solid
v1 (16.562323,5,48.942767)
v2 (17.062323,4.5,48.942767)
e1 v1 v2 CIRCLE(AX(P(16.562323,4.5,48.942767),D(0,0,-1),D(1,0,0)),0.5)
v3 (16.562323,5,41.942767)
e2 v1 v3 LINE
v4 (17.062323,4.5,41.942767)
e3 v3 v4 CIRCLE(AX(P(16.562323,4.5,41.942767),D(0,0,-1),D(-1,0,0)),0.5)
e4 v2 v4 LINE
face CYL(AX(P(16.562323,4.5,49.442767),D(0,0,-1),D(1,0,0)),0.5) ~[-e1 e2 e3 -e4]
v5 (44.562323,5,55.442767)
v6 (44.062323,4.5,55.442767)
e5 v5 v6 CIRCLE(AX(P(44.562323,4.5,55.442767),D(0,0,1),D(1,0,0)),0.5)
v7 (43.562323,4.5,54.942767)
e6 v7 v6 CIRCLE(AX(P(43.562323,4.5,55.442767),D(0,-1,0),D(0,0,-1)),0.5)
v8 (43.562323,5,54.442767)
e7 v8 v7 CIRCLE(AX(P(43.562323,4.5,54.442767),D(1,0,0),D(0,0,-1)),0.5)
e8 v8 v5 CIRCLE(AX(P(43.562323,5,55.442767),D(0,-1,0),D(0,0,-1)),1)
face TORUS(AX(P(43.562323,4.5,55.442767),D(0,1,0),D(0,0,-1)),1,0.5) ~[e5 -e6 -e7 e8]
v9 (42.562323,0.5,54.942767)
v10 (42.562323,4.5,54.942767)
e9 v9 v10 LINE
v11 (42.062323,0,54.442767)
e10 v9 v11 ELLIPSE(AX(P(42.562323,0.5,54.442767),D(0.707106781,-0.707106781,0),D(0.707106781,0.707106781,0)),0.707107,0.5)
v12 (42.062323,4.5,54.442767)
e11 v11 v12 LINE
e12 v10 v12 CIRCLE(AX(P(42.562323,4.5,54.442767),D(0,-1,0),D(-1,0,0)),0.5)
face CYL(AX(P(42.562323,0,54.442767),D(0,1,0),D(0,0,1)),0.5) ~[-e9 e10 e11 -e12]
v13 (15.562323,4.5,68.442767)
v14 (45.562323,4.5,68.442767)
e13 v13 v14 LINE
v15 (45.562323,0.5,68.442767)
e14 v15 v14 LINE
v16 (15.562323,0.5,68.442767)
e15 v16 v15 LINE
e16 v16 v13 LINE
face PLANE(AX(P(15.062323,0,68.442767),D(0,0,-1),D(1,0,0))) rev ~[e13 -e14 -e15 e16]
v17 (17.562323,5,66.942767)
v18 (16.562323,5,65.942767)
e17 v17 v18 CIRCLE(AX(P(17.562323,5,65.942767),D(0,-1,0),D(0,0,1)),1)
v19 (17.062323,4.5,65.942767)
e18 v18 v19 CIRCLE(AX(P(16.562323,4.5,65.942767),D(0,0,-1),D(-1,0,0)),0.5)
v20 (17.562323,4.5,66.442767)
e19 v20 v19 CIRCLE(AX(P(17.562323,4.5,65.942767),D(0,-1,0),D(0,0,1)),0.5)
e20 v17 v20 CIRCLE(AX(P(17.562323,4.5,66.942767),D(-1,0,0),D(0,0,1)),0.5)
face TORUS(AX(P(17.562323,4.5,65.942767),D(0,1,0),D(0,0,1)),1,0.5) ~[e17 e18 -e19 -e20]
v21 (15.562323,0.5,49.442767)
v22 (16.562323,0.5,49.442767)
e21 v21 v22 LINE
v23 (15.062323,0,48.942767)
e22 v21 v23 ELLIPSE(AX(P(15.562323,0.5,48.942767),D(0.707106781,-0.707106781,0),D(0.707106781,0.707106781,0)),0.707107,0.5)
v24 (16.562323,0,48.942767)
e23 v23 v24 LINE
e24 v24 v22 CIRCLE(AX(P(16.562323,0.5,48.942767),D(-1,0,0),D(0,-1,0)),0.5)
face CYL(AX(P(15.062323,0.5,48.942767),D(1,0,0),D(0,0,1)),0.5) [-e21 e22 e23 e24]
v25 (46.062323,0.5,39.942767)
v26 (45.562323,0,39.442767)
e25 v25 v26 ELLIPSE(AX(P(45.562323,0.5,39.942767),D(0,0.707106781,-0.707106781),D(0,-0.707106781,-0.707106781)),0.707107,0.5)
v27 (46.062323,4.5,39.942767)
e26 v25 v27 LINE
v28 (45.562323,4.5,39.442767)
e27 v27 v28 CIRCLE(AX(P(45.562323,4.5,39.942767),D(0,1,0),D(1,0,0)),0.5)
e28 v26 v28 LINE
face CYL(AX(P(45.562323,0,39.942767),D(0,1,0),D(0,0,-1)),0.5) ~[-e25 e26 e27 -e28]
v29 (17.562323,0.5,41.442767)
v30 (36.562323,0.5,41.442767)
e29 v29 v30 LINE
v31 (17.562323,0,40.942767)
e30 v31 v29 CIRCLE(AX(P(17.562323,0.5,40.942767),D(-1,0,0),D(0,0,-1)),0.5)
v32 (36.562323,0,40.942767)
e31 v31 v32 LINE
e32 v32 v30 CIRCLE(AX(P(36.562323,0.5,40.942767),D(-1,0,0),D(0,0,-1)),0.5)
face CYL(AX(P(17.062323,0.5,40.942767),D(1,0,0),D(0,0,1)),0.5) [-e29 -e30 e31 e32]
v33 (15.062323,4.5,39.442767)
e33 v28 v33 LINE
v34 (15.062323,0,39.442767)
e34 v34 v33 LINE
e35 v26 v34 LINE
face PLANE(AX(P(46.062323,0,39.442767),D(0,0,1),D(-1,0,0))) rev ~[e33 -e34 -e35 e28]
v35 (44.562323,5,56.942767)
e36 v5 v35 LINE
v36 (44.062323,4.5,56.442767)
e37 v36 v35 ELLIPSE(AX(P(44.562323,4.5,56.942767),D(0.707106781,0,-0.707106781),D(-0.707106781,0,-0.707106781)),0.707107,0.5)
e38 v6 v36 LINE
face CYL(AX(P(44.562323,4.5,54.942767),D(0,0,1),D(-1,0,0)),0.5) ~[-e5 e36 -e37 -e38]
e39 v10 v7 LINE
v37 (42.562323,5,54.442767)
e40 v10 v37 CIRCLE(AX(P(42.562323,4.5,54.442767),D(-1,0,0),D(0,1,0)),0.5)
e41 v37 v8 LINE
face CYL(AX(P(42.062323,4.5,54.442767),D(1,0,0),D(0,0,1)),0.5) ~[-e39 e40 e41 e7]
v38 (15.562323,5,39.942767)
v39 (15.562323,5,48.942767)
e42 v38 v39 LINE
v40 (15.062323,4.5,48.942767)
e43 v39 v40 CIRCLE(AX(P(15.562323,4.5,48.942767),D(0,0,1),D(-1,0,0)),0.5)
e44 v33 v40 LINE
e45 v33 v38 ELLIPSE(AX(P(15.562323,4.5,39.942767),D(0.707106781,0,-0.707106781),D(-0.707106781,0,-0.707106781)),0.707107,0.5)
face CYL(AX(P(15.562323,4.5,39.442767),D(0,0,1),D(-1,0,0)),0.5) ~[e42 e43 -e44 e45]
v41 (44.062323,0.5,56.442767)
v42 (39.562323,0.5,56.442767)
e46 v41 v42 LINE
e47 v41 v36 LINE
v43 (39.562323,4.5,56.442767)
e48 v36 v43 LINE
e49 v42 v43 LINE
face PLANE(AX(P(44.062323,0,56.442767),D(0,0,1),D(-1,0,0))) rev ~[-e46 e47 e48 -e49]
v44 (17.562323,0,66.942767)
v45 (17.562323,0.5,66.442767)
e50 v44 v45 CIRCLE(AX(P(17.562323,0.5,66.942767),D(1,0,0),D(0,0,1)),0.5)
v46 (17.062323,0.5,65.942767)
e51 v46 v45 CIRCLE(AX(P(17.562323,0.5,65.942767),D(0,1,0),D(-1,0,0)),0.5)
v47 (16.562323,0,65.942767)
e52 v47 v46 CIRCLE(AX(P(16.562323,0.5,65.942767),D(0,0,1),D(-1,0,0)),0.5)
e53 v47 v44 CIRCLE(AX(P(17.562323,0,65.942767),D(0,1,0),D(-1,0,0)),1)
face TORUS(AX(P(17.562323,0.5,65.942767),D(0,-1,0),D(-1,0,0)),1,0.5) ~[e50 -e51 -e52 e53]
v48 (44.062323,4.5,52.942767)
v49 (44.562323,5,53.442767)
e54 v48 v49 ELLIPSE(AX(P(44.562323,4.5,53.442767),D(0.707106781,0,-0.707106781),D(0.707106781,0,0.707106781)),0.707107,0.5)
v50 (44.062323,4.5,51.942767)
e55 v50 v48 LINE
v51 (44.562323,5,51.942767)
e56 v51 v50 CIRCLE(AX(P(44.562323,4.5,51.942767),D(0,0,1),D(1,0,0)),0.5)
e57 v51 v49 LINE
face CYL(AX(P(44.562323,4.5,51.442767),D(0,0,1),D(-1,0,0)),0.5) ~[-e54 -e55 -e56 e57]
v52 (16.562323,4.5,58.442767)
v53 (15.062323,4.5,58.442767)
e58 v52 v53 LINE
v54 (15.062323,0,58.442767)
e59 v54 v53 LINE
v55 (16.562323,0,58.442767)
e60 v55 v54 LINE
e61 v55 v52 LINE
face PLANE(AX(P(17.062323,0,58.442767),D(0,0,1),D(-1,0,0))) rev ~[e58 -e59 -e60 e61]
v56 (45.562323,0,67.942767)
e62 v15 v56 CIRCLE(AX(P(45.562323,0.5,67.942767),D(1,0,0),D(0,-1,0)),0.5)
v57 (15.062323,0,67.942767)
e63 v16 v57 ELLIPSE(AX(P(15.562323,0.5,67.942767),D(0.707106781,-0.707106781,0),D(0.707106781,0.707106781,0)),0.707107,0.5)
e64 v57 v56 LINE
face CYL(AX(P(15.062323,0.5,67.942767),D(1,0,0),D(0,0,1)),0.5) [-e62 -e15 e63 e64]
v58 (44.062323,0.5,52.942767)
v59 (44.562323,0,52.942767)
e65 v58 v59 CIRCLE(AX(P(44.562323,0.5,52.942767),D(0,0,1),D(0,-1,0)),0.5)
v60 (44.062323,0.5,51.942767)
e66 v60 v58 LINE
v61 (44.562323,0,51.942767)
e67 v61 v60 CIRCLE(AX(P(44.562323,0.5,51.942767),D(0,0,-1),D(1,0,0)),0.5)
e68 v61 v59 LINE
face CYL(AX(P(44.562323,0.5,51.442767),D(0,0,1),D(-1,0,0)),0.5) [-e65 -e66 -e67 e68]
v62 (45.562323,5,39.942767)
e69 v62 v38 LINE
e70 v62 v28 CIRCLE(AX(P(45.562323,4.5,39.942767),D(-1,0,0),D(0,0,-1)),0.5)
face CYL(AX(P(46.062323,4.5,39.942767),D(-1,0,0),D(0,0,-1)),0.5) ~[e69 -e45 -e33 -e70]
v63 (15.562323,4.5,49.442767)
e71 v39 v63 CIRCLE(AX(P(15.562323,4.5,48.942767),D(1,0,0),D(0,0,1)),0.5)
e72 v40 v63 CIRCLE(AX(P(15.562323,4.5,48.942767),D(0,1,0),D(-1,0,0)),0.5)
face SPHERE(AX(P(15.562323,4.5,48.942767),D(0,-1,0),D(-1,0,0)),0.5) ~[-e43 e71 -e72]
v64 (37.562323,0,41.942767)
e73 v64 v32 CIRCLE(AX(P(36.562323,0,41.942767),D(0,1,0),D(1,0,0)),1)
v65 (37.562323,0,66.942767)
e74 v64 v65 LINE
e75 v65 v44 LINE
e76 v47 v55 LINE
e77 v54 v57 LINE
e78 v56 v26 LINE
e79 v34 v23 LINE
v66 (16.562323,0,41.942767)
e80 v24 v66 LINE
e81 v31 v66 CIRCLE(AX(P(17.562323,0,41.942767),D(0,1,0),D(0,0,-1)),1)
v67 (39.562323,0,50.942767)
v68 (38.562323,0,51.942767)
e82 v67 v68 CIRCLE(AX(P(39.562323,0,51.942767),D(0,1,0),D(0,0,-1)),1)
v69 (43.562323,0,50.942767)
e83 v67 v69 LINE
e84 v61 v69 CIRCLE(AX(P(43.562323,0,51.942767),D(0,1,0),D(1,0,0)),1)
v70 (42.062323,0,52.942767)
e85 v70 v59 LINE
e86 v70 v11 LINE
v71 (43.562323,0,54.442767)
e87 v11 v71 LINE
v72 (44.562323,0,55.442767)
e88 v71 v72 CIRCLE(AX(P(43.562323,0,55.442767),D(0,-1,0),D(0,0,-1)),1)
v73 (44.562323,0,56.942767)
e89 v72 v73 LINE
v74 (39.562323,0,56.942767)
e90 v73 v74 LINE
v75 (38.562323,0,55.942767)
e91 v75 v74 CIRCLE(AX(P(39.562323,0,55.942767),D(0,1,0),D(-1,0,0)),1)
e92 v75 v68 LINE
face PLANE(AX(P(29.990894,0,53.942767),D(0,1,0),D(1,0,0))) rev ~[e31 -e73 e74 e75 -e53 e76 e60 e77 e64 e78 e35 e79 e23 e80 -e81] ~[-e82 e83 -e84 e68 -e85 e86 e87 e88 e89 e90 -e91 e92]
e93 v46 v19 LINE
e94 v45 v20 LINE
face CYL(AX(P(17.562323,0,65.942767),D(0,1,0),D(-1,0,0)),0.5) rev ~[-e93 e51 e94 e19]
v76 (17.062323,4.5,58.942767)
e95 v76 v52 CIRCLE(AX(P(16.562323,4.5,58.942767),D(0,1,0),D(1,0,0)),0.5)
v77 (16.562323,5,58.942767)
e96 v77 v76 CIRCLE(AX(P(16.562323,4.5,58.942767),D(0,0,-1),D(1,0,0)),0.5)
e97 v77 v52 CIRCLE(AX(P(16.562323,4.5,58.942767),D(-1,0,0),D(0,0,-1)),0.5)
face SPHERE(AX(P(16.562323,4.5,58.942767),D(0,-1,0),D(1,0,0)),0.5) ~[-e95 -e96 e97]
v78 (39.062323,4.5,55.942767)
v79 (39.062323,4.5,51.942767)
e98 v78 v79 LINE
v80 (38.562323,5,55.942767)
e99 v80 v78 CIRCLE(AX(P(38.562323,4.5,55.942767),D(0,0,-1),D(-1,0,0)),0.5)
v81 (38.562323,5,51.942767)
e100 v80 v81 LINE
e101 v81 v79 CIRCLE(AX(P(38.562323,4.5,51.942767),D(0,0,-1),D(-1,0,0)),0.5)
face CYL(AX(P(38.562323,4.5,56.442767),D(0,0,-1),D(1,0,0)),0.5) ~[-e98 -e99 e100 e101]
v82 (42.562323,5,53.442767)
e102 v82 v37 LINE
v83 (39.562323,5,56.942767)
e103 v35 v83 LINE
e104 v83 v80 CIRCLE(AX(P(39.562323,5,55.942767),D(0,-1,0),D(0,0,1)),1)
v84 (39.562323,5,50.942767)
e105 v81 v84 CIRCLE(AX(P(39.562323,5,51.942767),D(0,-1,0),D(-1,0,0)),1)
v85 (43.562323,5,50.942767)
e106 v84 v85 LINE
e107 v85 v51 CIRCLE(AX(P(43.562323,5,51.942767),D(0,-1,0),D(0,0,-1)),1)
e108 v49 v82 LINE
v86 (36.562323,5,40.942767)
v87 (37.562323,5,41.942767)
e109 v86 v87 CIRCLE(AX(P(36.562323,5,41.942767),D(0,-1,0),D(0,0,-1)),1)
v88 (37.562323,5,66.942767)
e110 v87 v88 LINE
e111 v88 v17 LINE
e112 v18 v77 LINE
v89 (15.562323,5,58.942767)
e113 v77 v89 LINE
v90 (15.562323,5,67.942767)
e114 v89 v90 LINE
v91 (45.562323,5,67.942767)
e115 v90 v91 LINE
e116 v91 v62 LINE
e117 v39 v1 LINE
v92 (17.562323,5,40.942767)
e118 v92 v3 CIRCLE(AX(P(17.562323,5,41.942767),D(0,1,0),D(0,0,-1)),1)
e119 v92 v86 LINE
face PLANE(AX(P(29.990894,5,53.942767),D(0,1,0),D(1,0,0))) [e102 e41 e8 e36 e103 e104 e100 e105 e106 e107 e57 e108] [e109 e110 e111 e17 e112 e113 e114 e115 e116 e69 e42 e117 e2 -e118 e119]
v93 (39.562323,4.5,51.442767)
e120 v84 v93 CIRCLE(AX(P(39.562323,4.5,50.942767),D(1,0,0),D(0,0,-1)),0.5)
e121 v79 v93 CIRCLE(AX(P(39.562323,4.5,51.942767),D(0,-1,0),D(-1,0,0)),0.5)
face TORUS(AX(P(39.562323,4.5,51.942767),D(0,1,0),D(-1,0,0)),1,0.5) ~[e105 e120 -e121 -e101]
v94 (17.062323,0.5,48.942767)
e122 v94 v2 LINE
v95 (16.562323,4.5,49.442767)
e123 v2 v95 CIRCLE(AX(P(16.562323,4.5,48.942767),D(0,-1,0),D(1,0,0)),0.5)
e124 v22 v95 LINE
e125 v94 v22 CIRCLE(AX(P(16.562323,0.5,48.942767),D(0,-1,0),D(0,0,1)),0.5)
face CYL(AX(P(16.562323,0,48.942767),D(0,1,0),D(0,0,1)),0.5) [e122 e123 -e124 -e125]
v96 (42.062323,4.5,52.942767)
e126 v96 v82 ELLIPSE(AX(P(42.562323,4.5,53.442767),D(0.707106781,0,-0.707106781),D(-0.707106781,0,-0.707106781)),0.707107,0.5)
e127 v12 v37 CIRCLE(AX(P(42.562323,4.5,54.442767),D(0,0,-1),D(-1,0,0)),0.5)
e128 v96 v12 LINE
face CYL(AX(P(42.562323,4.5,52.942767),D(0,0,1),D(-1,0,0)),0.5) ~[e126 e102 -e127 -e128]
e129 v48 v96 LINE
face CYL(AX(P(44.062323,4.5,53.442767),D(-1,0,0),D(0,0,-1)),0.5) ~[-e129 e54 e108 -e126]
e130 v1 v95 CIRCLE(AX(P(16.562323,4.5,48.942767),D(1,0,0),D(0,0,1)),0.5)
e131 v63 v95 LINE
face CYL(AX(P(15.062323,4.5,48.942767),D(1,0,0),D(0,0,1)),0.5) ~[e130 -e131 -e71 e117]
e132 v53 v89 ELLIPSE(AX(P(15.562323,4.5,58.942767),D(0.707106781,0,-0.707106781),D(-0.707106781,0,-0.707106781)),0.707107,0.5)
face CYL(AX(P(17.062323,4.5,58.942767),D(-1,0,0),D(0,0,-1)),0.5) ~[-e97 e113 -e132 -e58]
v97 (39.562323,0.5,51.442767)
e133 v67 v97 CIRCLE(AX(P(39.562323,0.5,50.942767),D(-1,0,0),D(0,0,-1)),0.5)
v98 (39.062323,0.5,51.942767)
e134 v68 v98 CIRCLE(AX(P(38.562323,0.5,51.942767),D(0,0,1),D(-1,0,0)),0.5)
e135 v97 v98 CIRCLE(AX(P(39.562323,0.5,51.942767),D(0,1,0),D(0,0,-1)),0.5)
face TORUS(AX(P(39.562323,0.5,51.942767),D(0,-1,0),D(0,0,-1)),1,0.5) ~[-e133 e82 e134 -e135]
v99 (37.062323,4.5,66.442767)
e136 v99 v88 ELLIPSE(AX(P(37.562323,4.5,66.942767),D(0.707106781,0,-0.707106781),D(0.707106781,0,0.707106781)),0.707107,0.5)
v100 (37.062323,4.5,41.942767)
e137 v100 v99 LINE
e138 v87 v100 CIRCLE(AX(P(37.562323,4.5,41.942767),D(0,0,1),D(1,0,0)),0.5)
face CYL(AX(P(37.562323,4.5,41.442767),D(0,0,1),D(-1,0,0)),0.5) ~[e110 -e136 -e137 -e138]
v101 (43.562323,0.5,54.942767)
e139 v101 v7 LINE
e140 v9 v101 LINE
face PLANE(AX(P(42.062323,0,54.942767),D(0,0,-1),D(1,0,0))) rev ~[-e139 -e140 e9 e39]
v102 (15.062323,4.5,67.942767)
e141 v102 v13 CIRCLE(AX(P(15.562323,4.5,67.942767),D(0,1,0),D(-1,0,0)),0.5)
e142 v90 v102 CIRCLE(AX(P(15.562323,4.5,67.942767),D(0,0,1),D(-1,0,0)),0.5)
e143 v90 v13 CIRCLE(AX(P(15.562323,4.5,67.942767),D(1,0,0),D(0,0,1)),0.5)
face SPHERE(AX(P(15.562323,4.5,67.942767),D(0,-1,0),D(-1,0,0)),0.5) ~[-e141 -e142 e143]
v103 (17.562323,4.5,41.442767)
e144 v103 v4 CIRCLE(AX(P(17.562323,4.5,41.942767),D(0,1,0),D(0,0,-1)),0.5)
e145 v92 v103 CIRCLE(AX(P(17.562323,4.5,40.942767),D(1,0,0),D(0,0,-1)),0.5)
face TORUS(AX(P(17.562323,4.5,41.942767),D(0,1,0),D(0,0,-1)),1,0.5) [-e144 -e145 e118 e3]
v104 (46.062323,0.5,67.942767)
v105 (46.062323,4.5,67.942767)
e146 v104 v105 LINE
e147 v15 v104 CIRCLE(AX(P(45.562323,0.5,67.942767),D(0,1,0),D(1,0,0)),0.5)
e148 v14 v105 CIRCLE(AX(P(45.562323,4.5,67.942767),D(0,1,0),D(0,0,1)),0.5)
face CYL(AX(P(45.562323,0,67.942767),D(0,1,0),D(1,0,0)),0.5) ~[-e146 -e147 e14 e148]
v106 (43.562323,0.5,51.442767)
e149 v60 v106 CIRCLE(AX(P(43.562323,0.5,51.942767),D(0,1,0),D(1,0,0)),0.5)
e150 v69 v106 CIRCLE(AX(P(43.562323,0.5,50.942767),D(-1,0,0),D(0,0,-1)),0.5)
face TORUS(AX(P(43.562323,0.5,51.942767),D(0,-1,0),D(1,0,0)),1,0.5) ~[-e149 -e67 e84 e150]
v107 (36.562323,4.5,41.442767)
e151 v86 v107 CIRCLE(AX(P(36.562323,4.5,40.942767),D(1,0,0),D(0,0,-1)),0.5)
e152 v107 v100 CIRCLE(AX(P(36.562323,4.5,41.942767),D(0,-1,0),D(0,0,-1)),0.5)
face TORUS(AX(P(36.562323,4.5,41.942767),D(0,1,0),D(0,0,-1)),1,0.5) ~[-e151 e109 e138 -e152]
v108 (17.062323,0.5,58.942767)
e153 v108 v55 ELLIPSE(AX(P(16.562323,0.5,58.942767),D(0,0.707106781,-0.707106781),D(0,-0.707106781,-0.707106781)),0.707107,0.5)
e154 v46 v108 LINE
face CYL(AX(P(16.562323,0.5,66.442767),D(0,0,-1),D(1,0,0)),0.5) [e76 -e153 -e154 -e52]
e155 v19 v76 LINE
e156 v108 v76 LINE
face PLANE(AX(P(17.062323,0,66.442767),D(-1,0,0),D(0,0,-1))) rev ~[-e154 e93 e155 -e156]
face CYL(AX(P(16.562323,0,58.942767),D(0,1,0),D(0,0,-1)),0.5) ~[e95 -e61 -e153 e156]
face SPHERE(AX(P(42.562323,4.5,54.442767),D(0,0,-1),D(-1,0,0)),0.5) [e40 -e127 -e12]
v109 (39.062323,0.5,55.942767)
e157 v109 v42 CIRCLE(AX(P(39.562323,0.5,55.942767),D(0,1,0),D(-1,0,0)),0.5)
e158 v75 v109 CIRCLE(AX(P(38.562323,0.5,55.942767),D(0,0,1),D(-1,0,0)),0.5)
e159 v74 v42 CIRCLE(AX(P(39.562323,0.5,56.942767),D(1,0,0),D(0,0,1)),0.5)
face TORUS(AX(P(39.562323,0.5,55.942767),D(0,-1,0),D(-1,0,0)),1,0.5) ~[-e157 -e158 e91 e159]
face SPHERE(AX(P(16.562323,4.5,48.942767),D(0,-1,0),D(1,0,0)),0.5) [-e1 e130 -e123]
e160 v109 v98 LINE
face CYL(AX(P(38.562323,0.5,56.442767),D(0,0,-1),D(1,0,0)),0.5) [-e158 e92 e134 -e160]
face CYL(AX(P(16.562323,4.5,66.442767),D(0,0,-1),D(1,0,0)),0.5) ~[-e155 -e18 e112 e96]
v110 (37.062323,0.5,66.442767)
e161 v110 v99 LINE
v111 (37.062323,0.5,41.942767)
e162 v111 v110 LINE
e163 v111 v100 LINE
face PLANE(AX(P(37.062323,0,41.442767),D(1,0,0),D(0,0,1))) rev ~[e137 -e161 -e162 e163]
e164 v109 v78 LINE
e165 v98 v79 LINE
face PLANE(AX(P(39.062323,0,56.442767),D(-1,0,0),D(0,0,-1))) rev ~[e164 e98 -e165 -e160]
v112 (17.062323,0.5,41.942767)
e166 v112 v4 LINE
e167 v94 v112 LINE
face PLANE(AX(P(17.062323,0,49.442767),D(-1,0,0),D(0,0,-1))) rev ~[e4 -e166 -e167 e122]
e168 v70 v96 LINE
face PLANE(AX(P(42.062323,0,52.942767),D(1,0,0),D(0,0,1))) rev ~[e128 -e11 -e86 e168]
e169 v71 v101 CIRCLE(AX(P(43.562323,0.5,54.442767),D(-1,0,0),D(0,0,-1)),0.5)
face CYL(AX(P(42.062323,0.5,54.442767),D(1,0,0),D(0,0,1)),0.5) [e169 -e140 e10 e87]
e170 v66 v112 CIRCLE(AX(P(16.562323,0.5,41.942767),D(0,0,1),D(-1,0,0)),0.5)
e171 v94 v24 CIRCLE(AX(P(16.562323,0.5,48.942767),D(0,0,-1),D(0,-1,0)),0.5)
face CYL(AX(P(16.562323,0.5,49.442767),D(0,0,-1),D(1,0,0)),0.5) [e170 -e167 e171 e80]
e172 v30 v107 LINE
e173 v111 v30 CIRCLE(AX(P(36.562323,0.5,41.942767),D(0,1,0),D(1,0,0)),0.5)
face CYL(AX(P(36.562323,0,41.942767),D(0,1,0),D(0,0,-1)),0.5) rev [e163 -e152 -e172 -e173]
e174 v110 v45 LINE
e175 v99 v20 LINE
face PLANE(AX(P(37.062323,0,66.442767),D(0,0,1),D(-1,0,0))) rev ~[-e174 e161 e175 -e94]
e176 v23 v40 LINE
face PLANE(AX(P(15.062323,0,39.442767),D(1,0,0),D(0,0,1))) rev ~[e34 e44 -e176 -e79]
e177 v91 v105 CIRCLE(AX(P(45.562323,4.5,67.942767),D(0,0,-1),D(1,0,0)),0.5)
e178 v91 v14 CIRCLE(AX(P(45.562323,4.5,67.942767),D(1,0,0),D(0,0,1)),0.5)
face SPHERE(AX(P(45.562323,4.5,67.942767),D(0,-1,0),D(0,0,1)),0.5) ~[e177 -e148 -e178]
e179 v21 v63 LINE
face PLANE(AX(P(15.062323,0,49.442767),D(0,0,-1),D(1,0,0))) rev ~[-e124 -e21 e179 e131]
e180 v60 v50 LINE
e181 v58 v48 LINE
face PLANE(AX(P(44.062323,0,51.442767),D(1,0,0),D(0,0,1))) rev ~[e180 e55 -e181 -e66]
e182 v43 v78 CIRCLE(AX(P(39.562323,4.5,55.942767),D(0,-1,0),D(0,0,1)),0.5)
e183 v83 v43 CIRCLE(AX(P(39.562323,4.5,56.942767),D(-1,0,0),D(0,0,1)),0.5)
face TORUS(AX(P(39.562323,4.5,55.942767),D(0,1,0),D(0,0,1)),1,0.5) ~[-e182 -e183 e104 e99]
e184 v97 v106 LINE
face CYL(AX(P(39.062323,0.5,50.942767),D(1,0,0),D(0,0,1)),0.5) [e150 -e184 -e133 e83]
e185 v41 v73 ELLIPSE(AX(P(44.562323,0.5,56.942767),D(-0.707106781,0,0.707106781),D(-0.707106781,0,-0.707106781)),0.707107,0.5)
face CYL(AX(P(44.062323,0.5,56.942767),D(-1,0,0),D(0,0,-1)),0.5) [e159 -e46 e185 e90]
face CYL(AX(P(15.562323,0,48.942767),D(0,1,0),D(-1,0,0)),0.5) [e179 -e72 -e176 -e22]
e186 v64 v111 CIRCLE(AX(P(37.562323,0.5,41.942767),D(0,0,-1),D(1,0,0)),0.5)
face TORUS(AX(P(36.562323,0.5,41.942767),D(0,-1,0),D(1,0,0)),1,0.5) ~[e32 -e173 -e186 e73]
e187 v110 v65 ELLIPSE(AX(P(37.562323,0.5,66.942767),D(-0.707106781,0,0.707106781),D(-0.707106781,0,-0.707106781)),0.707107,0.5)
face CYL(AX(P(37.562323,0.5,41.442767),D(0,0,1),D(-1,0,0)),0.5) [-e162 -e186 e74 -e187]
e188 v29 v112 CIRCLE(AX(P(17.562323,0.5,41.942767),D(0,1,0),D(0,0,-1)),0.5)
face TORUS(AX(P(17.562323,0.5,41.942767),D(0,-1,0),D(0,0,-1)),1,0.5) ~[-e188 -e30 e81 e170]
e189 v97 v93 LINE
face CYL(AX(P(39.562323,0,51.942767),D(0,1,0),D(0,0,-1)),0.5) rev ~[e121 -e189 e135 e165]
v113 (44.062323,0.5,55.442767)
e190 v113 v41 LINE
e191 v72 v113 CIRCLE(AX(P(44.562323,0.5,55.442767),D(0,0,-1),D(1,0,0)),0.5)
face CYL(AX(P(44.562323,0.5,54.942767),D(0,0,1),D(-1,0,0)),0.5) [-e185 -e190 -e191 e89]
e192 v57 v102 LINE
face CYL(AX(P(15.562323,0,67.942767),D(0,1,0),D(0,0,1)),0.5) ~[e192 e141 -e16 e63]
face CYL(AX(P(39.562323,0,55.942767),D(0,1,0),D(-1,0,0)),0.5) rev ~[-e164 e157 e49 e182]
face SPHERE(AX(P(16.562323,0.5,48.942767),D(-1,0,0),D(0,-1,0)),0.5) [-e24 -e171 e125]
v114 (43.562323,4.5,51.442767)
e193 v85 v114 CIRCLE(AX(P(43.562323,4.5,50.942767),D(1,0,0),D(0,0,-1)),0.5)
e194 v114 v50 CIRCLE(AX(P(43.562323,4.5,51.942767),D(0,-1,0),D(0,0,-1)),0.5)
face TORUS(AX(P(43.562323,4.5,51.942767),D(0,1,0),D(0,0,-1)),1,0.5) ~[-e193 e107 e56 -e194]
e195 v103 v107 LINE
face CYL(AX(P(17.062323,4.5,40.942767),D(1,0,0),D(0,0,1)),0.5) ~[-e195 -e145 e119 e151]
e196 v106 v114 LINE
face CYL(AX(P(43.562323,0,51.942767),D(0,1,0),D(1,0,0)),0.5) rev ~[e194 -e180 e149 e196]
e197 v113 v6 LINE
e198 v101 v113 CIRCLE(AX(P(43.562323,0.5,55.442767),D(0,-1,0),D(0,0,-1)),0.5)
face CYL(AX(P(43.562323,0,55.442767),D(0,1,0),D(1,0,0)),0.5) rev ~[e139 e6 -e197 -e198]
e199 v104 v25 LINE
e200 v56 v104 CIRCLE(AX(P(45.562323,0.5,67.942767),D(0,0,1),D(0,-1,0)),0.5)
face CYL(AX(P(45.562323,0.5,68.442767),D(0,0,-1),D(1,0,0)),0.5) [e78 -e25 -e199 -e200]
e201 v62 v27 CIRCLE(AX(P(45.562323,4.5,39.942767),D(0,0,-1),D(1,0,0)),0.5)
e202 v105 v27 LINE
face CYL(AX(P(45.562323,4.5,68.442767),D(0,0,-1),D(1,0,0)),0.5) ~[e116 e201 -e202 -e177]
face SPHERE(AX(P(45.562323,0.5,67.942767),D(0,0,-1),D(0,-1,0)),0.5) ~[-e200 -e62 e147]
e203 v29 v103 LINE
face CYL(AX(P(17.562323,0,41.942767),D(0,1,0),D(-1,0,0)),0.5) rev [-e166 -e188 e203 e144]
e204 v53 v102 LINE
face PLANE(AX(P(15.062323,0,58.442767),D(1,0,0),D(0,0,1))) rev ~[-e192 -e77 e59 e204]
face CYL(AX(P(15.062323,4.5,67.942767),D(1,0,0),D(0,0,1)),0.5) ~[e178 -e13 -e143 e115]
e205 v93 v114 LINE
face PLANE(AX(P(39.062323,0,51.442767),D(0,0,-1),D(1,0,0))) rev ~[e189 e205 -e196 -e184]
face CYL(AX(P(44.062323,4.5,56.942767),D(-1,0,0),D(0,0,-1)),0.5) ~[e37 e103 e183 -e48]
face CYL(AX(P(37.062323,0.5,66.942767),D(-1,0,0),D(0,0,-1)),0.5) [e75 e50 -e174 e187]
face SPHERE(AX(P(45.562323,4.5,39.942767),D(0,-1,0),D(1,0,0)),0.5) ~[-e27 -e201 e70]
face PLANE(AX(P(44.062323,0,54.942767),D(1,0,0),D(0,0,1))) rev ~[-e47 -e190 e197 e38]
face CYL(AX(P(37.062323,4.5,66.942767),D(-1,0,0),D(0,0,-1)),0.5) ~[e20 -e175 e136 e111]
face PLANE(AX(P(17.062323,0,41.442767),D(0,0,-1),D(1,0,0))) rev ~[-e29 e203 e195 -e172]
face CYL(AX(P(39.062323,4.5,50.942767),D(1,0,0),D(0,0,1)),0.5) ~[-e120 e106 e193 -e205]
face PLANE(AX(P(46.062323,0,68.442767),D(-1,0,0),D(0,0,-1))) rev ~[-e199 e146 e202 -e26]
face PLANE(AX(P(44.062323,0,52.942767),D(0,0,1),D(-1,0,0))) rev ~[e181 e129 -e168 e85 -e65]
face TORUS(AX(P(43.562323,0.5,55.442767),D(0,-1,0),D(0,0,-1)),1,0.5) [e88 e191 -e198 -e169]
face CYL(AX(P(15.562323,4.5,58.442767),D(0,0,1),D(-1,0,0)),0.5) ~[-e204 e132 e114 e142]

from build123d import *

# Parameters (mm, degrees)
BOSS_EXTRUDE2_DEPTH = 5
FILLET1_R           = 0.5


with BuildPart() as part:
    # Sketch1 → Boss-Extrude2 (new body)
    with BuildSketch(Plane(origin=(0, 0, 0), x_dir=(1, 0, 0), z_dir=(0, 1, 0))):
        Polygon((46.062322946, -39.44276686), (15.062322946, -39.44276686), (15.062322946, -49.44276686), (17.062322946, -49.44276686), (17.062322946, -41.44276686), (37.062322946, -41.44276686), (37.062322946, -66.44276686), (17.062322946, -66.44276686), (17.062322946, -58.44276686), (15.062322946, -58.44276686), (15.062322946, -68.44276686), (46.062322946, -68.44276686), align=None)
        Polygon((44.062322946, -56.44276686), (39.062322946, -56.44276686), (39.062322946, -51.44276686), (44.062322946, -51.44276686), (44.062322946, -52.94276686), (42.062322946, -52.94276686), (42.062322946, -54.94276686), (44.062322946, -54.94276686), align=None, mode=Mode.SUBTRACT)
    extrude(amount=BOSS_EXTRUDE2_DEPTH)

    # Fillet1
    fillet1_edges = [part.edges().sort_by_distance(p)[0] for p in [
        (41.562322946, 5, 51.44276686),
        (44.062322946, 5, 52.19276686),
        (16.062322946, 0, 49.44276686),
        (43.062322946, 5, 52.94276686),
        (46.062322946, 0, 53.94276686),
        (30.562322946, 0, 68.44276686),
        (17.062322946, 0, 62.44276686),
        (27.062322946, 0, 66.44276686),
        (37.062322946, 0, 53.94276686),
        (42.062322946, 5, 53.94276686),
        (27.062322946, 0, 41.44276686),
        (17.062322946, 0, 45.44276686),
        (44.062322946, 0, 52.19276686),
        (41.562322946, 0, 51.44276686),
        (39.062322946, 0, 53.94276686),
        (41.562322946, 0, 56.44276686),
        (17.062322946, 2.5, 49.44276686),
        (15.062322946, 2.5, 49.44276686),
        (46.062322946, 2.5, 39.44276686),
        (46.062322946, 2.5, 68.44276686),
        (15.062322946, 2.5, 68.44276686),
        (17.062322946, 2.5, 58.44276686),
        (17.062322946, 2.5, 66.44276686),
        (37.062322946, 2.5, 41.44276686),
        (17.062322946, 5, 45.44276686),
        (17.062322946, 2.5, 41.44276686),
        (44.062322946, 2.5, 51.44276686),
        (39.062322946, 2.5, 51.44276686),
        (39.062322946, 2.5, 56.44276686),
        (27.062322946, 5, 41.44276686),
        (37.062322946, 5, 53.94276686),
        (41.562322946, 5, 56.44276686),
        (27.062322946, 5, 66.44276686),
        (44.062322946, 0, 55.69276686),
        (44.062322946, 5, 55.69276686),
        (17.062322946, 5, 62.44276686),
        (44.062322946, 2.5, 54.94276686),
        (16.062322946, 5, 58.44276686),
        (15.062322946, 5, 63.44276686),
        (42.062322946, 2.5, 54.94276686),
        (43.062322946, 5, 54.94276686),
        (43.062322946, 0, 54.94276686),
        (30.562322946, 5, 68.44276686),
        (46.062322946, 5, 53.94276686),
        (30.562322946, 5, 39.44276686),
        (39.062322946, 5, 53.94276686),
        (15.062322946, 5, 44.44276686),
        (16.062322946, 5, 49.44276686),
    ]]
    fillet(fillet1_edges, radius=FILLET1_R)


solid = part.part
